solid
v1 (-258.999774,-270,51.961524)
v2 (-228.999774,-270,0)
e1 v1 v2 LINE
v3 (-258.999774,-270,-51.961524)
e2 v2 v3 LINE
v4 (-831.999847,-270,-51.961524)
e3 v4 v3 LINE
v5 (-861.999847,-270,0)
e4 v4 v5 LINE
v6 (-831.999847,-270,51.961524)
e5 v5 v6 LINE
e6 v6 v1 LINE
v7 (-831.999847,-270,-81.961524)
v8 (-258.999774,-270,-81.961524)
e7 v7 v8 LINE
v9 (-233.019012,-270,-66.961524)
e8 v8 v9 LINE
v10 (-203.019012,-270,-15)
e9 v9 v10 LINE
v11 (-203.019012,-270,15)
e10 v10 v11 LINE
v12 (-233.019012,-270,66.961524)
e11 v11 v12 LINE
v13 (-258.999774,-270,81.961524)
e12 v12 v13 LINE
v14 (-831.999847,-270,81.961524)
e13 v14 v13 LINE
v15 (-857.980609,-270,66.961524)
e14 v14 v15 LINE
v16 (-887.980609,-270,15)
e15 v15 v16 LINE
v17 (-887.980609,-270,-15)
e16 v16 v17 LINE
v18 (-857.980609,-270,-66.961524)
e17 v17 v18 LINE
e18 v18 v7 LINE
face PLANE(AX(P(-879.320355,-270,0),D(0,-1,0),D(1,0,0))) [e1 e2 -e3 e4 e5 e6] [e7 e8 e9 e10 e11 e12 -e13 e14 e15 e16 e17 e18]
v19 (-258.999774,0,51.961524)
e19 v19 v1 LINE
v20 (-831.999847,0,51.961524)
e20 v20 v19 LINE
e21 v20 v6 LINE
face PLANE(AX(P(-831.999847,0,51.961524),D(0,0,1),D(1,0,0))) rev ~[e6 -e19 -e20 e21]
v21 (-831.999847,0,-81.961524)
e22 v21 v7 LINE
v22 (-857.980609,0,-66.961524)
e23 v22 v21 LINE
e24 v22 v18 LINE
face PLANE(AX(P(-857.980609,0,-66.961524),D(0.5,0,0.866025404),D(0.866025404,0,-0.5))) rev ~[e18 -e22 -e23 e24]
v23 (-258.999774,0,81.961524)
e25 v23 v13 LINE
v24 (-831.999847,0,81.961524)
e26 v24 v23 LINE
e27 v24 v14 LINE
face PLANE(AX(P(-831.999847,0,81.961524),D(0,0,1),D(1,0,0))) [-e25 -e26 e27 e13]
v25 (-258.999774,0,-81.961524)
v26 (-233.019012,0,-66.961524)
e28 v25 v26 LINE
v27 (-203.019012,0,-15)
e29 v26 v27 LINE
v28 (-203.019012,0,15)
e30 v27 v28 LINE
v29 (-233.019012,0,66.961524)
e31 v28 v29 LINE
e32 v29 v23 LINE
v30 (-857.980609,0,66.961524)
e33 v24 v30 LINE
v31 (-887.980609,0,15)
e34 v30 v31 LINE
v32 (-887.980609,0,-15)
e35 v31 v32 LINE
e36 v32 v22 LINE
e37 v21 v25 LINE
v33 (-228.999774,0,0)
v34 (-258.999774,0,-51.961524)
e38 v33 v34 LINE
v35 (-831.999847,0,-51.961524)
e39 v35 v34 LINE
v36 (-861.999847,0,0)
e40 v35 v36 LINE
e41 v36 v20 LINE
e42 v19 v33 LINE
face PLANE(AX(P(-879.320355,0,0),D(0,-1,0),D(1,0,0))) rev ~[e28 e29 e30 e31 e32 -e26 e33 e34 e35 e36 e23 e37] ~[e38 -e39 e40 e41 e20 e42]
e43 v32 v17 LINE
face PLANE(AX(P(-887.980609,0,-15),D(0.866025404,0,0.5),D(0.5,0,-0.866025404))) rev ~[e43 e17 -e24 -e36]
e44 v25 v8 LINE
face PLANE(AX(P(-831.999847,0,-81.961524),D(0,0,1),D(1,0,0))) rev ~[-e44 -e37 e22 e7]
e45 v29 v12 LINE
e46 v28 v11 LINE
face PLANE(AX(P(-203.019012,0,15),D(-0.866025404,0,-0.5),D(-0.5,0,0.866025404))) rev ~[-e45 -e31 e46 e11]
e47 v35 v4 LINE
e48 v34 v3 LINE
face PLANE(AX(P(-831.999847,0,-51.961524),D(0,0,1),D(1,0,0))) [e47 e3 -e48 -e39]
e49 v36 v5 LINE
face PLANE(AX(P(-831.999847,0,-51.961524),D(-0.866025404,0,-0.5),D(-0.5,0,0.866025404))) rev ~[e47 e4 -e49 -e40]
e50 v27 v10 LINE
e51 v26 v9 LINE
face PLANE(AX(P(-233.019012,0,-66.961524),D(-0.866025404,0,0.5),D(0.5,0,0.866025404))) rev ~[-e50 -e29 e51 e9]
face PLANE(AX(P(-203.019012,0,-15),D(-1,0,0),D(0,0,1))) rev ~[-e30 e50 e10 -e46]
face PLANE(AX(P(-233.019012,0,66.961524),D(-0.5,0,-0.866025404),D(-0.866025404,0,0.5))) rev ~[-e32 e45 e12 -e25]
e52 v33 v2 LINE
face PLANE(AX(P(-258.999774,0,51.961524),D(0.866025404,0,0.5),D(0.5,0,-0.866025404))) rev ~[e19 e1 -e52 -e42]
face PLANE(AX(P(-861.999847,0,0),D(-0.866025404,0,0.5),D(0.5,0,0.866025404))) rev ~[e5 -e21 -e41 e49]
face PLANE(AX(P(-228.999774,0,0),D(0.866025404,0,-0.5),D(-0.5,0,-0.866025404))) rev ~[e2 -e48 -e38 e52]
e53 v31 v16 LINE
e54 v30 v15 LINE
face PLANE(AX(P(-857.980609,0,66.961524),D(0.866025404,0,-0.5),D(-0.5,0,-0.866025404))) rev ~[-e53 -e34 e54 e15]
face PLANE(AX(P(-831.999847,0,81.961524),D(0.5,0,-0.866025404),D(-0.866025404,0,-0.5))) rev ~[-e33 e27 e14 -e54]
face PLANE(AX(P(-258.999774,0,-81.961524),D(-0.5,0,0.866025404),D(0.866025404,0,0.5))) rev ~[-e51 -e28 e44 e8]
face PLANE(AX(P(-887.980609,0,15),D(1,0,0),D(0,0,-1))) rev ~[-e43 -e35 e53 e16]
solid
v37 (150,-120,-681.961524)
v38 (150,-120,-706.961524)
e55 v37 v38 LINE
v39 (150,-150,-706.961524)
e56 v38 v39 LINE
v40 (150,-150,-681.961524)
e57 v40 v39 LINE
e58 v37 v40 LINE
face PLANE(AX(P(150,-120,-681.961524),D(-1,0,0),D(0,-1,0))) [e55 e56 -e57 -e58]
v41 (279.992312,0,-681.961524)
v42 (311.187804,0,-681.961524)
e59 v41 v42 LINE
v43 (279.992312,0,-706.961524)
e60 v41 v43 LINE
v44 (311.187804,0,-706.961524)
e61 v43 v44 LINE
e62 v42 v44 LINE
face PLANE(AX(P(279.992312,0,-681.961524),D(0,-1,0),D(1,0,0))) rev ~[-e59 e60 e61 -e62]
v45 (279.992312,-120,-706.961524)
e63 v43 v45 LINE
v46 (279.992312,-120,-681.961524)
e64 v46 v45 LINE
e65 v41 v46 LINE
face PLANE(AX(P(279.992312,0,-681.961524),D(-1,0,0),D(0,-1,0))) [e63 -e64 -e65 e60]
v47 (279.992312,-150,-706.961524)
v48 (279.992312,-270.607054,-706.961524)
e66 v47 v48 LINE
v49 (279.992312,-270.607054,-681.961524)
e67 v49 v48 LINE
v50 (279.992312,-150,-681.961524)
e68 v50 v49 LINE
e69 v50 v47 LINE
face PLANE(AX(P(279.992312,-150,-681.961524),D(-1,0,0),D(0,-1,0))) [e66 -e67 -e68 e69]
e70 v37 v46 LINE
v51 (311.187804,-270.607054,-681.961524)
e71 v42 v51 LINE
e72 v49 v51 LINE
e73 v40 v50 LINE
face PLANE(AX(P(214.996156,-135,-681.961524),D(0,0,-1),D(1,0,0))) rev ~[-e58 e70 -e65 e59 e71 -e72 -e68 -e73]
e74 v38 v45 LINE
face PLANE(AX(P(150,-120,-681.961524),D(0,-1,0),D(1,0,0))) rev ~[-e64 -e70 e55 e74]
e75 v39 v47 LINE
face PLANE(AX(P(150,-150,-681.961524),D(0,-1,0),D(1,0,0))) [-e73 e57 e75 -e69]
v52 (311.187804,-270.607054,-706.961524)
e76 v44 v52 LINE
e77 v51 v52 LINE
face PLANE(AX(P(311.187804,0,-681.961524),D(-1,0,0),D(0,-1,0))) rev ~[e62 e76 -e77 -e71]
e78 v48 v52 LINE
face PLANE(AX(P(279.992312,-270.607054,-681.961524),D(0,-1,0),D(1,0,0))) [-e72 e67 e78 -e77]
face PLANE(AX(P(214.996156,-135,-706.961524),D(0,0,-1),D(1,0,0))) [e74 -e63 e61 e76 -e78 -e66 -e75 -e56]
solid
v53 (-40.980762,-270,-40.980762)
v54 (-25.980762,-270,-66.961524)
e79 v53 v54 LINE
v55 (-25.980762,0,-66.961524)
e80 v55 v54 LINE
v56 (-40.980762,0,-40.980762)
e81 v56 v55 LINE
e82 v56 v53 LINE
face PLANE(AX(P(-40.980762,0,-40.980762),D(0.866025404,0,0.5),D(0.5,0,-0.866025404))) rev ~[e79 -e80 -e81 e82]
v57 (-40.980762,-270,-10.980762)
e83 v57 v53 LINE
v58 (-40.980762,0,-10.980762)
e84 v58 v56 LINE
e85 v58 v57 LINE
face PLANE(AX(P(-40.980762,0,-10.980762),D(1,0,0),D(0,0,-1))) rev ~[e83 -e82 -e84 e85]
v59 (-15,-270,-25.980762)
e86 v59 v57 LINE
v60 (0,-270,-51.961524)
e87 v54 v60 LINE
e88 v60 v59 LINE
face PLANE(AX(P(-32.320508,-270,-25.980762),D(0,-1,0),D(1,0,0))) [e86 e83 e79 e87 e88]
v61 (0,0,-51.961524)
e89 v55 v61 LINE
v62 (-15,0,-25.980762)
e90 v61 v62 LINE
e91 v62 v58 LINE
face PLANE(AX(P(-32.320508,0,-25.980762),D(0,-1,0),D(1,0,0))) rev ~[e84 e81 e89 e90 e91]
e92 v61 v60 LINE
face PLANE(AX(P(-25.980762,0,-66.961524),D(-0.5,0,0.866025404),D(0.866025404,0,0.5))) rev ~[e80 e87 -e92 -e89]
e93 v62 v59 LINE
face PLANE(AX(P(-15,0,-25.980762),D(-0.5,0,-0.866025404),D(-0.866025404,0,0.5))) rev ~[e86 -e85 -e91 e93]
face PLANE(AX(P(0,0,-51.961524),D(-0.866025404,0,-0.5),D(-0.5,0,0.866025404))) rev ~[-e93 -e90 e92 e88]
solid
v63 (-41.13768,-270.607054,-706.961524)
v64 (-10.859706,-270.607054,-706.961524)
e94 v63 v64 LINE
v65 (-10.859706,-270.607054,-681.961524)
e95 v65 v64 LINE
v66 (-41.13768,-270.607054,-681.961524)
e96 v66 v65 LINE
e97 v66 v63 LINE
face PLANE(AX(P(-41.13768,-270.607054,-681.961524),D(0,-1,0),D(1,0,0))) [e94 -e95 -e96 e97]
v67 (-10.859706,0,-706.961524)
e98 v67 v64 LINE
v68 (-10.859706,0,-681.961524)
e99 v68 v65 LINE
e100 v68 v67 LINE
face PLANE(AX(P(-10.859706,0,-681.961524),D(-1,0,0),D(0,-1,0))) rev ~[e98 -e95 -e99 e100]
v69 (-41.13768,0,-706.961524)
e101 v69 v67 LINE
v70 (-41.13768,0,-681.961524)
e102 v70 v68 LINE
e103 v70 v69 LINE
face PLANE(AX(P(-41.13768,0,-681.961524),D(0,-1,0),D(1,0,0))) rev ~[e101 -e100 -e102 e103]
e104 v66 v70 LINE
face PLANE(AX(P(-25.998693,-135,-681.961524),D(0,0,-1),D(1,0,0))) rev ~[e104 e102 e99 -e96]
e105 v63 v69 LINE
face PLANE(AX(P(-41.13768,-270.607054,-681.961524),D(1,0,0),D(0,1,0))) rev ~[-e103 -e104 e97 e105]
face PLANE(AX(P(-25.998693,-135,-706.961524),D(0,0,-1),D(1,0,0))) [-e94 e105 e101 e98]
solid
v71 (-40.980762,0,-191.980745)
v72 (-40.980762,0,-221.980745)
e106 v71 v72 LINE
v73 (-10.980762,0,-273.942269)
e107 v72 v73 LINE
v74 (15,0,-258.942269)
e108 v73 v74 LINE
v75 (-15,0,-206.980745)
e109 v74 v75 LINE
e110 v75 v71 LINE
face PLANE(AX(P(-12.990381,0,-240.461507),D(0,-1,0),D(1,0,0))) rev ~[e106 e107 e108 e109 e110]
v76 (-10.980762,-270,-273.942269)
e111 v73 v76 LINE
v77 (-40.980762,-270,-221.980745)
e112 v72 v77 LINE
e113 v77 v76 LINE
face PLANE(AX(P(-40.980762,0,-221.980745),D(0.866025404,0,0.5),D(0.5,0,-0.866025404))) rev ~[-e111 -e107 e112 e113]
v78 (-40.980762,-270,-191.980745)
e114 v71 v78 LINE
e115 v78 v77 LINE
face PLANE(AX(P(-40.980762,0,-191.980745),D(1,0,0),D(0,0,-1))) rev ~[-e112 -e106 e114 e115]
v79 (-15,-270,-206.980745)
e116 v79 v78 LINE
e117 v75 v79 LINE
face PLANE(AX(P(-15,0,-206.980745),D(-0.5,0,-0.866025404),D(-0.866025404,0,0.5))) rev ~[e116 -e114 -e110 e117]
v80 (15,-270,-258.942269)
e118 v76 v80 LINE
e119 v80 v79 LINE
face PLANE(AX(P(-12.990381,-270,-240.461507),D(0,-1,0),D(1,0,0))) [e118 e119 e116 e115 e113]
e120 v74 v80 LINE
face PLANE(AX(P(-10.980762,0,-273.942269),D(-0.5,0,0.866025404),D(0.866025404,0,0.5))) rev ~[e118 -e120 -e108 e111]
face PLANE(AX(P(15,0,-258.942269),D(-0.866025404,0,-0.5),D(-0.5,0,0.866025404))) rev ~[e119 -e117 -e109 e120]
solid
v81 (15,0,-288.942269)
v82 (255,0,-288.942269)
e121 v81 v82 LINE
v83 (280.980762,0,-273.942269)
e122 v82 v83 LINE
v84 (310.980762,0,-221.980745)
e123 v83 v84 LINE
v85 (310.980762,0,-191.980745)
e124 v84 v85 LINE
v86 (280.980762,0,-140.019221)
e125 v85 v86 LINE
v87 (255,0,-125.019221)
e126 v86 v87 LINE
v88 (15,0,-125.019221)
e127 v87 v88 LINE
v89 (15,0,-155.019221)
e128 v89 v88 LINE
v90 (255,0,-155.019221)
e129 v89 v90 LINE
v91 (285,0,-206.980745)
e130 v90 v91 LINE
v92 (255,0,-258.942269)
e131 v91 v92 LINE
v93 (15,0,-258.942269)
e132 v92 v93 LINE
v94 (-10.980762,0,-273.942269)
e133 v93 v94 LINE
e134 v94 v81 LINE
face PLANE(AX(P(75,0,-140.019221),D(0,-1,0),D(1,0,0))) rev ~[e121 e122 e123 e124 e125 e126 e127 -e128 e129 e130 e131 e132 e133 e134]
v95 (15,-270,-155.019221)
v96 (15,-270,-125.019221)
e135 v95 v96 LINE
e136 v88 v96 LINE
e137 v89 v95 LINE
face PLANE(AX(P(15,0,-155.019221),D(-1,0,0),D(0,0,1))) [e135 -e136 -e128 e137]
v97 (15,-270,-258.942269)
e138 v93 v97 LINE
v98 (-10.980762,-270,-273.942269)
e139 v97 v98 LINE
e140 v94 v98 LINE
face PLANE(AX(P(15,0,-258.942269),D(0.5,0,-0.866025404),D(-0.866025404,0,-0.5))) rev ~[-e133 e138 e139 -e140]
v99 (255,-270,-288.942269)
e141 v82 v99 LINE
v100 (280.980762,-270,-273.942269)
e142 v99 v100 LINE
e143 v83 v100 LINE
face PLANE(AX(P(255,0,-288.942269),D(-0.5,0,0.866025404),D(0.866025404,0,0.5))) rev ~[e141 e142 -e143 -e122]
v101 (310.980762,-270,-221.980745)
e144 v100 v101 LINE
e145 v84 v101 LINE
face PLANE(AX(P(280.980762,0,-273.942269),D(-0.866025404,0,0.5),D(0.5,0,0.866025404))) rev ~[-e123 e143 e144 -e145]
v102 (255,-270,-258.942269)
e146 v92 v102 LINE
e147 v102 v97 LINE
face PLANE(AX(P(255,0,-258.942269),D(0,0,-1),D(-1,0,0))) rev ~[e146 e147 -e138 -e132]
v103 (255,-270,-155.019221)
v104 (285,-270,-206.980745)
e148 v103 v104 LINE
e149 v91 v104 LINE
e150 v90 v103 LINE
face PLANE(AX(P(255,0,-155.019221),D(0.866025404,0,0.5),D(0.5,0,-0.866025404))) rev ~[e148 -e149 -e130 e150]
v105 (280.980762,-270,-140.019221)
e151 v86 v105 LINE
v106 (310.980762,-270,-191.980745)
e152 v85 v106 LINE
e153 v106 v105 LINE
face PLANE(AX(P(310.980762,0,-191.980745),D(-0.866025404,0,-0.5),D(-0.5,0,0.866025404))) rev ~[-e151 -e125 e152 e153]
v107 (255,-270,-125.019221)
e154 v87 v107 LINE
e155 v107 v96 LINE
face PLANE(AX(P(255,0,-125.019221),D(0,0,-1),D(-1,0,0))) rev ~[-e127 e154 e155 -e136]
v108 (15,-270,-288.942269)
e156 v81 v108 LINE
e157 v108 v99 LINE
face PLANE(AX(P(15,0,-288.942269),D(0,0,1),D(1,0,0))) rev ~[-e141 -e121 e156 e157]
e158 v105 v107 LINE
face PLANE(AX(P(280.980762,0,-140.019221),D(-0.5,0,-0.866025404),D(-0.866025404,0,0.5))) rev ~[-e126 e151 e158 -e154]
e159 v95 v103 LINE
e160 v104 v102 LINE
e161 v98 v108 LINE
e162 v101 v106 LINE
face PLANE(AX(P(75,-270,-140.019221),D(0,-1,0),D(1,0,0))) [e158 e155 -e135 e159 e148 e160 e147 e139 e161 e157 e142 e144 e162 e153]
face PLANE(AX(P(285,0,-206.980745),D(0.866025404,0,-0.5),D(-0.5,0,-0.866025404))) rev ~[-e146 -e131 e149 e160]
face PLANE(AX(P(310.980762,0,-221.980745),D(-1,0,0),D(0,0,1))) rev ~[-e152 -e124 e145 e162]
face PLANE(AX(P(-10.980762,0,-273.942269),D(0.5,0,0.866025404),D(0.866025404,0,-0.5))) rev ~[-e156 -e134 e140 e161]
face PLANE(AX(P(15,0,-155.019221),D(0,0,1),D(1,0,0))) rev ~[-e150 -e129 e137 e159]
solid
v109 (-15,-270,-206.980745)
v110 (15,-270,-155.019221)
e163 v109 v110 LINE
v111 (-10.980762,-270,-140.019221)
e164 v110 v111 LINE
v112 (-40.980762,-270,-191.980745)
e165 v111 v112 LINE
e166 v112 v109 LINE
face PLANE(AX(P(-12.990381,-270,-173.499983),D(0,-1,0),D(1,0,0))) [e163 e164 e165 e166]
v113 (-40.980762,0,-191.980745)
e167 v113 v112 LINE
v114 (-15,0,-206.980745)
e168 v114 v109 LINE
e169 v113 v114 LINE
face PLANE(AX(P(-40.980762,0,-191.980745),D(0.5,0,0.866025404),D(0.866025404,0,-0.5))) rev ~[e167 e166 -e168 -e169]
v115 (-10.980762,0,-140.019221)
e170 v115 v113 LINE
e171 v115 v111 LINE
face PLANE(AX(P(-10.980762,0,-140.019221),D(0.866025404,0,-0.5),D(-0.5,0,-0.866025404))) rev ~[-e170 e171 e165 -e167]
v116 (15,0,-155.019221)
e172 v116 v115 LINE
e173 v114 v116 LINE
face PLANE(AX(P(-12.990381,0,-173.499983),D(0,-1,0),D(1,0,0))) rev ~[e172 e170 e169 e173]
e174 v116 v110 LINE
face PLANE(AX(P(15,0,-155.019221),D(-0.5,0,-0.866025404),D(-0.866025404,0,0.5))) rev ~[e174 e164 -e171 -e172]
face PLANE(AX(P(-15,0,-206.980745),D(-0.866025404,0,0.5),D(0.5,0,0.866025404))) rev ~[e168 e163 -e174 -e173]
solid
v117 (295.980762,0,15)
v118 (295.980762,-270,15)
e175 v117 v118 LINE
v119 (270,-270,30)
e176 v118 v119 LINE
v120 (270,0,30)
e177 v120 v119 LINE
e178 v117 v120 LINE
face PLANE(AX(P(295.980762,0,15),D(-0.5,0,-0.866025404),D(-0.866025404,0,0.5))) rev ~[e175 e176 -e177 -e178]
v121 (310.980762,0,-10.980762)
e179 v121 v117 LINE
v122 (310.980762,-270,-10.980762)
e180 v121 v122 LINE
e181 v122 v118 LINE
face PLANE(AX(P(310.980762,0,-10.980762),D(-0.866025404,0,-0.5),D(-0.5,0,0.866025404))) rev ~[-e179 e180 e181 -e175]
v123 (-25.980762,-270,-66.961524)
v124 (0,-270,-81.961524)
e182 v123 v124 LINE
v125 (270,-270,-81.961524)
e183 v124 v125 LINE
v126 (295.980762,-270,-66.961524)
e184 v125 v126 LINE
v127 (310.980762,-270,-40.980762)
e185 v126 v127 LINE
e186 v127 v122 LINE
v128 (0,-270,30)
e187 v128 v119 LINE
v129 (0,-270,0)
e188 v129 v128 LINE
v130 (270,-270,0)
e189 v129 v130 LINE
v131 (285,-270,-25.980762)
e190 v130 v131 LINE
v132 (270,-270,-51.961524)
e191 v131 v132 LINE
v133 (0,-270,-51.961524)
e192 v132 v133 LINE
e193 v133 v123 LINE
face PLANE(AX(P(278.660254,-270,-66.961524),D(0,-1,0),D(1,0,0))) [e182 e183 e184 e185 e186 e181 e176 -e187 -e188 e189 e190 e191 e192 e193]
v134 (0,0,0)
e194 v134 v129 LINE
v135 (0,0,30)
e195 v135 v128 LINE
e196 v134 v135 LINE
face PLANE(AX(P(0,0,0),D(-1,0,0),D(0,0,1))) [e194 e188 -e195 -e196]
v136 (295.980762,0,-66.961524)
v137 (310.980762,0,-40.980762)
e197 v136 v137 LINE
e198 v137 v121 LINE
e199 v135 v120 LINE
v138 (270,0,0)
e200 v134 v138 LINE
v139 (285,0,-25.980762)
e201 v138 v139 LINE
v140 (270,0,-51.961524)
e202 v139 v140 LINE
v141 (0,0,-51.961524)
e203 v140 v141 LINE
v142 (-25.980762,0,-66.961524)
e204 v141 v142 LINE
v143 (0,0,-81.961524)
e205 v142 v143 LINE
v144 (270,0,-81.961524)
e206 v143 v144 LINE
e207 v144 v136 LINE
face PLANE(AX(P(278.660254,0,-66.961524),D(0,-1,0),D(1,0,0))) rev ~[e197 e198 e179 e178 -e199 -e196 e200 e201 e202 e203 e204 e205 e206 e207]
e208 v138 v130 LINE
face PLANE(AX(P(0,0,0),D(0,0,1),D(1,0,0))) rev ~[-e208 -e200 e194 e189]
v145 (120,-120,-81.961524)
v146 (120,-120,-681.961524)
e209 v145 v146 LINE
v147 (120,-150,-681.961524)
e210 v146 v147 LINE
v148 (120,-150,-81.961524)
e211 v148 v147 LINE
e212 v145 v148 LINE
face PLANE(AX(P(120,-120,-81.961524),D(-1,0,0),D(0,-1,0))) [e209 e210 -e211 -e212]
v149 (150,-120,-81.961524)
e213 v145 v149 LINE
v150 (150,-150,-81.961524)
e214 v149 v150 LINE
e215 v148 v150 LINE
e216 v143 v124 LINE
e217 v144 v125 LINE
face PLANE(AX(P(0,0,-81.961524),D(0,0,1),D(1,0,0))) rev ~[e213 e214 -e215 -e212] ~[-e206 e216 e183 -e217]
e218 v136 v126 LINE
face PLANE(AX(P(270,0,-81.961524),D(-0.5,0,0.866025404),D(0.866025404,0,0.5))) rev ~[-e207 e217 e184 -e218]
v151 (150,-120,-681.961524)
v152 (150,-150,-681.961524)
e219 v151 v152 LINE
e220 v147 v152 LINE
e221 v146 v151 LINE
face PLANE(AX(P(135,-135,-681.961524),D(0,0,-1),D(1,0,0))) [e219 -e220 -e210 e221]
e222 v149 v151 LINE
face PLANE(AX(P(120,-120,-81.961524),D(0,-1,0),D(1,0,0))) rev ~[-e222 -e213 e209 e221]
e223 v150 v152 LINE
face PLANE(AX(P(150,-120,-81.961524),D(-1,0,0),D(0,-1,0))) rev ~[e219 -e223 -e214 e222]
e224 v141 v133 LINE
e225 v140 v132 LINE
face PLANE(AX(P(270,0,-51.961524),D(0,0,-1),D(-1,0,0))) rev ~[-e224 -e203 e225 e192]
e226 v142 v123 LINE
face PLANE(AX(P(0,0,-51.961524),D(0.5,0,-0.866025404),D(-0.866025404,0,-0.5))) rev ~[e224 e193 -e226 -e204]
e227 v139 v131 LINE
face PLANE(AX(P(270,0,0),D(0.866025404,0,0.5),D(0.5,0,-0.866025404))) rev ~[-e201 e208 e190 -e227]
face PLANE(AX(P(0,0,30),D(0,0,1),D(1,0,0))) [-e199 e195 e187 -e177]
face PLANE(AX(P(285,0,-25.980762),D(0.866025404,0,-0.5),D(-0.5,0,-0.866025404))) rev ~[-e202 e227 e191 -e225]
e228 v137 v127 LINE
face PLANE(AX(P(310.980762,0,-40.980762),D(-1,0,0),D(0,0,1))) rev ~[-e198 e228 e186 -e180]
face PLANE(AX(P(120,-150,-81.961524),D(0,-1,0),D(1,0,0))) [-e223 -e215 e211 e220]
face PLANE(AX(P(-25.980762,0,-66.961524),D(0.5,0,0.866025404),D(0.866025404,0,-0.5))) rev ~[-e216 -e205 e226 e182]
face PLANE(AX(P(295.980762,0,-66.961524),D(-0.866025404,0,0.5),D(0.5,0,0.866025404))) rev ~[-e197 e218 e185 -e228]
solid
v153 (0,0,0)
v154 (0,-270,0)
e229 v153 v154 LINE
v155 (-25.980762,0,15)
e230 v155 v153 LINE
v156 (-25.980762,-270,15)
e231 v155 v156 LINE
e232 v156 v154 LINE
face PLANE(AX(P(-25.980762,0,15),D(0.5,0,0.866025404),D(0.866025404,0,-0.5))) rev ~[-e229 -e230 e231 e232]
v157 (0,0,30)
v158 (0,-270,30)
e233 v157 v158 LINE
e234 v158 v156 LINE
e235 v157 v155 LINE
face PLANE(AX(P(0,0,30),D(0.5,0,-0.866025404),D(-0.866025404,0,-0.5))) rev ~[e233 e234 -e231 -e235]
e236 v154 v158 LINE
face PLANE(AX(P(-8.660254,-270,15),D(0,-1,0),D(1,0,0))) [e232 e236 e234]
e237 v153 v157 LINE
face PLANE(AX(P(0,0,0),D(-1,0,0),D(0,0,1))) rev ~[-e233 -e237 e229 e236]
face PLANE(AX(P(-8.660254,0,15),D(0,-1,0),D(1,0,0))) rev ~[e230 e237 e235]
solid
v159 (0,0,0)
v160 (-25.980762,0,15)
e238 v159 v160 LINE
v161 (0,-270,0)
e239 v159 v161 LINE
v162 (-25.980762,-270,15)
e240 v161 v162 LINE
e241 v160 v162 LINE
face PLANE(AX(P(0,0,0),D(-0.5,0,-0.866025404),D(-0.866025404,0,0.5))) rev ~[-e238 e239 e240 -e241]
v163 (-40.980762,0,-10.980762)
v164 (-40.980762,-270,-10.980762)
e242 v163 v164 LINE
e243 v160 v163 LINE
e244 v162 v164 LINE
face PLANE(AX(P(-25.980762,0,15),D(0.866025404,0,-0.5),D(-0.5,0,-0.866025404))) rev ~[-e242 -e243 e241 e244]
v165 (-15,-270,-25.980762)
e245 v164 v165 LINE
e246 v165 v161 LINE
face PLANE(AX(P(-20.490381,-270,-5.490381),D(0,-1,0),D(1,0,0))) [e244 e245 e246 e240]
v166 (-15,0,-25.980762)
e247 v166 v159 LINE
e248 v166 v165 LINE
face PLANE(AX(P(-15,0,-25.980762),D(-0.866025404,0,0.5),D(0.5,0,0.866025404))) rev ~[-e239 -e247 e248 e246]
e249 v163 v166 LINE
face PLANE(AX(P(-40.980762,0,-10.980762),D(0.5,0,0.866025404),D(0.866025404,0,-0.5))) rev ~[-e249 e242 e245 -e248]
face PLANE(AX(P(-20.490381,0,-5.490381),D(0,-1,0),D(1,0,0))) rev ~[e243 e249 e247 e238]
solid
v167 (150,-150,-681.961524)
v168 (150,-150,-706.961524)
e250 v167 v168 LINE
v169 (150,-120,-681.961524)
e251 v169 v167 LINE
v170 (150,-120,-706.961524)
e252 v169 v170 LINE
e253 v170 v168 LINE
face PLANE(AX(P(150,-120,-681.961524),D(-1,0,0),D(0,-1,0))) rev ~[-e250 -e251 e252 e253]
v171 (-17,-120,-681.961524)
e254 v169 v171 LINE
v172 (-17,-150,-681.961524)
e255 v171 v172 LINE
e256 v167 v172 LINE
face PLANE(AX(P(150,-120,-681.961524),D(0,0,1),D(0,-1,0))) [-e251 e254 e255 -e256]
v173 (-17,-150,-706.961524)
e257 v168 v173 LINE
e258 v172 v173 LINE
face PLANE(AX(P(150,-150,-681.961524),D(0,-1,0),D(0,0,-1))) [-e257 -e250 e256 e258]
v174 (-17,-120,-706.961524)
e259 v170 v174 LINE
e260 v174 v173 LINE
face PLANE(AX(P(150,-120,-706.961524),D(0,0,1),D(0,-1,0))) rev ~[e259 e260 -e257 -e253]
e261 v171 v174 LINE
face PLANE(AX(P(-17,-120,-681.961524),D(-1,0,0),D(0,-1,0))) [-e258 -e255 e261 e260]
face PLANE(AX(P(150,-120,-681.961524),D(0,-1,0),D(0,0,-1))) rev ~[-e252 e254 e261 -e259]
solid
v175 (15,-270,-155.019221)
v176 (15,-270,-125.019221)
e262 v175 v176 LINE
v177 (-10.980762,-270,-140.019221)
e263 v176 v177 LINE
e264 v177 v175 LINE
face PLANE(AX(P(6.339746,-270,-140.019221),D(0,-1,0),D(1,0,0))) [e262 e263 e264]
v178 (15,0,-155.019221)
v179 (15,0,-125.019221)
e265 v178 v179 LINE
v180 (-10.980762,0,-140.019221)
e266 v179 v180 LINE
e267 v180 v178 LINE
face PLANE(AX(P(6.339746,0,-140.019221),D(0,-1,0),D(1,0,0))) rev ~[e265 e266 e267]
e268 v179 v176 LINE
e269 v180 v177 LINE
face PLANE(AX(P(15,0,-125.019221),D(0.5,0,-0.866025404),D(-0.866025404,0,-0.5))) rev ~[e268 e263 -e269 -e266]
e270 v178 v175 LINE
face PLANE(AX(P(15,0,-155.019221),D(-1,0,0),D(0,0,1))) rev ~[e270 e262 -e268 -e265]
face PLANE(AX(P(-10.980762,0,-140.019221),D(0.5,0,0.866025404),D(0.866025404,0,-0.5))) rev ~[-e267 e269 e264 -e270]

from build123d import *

# Parameters (mm, degrees)
F0_W      = 30
F0_H      = 15
F0_W_2    = 270
F0_H_2    = 30
F2_DEPTH  = 270
F3_W      = 30
F3_H      = 30
F4_DEPTH  = 600
F5_W      = 30.2779739723
F5_H      = 30
F5_H_2    = 120.6070542336
F5_H_3    = 120
F6_DEPTH  = 25
F5_W_2    = 129.9923121929
F5_W_3    = 31.1954915524
F7_DEPTH  = 167
F8_DEPTH  = 270
F0_W_3    = 120
F9_DEPTH  = 270
F0_W_4    = 573.0000723706
F10_DEPTH = 270


with BuildPart() as f2:
    # F0 (on Front) → F2 (new body)
    with BuildSketch(Plane.XZ):
        Polygon((270, -81.9615242271), (295.9807621135, -66.9615242271), (270, -51.9615242271), align=None)
        Polygon((270, 0), (295.9807621135, 15), (270, 30), align=None)
        Polygon((150, -81.9615242271), (270, -81.9615242271), (270, -51.9615242271), (240, -51.9615242271), (210, -51.9615242271), (180, -51.9615242271), (150, -51.9615242271), (150, -66.9615242271), align=None)
        with Locations((135, -59.4615242271)):
            Rectangle(F0_W, F0_H)
        Polygon((285, -25.9807621135), (310.9807621135, -40.9807621135), (310.9807621135, -10.9807621135), align=None)
        Polygon((0, -81.9615242271), (120, -81.9615242271), (120, -66.9615242271), (120, -51.9615242271), (90, -51.9615242271), (60, -51.9615242271), (30, -51.9615242271), (0, -51.9615242271), align=None)
        Polygon((135, -81.9615242271), (150, -81.9615242271), (150, -66.9615242271), (120, -66.9615242271), (120, -81.9615242271), align=None)
        Polygon((270, -51.9615242271), (295.9807621135, -66.9615242271), (310.9807621135, -40.9807621135), (285, -25.9807621135), align=None)
        Polygon((-25.9807621135, -66.9615242271), (0, -81.9615242271), (0, -51.9615242271), align=None)
        Polygon((285, -25.9807621135), (310.9807621135, -10.9807621135), (295.9807621135, 15), (270, 0), align=None)
        with Locations((135, 15)):
            Rectangle(F0_W_2, F0_H_2)
    extrude(amount=F2_DEPTH)

    # F3 (on face) → F4 (join)
    with BuildSketch(Plane(origin=(0, 0, -81.9615242271), x_dir=(1, 0, 0), z_dir=(0, 0, -1))):
        with Locations((135, 135)):
            Rectangle(F3_W, F3_H)
    extrude(amount=F4_DEPTH)


with BuildPart() as f2b:
    # F0 (on Front) → F2, piece 2 (new body)
    with BuildSketch(Plane.XZ):
        Polygon((-10.9807621135, -273.9422689571), (15, -258.9422689571), (-15, -206.98074473), (-40.9807621135, -221.98074473), align=None)
        Polygon((-40.9807621135, -221.98074473), (-15, -206.98074473), (-40.9807621135, -191.98074473), align=None)
    extrude(amount=F2_DEPTH)


with BuildPart() as f2c:
    # F0 (on Front) → F2, piece 3 (new body)
    with BuildSketch(Plane.XZ):
        Polygon((-15, -25.9807621135), (0, 0), (-25.9807621135, 15), (-40.9807621135, -10.9807621135), align=None)
    extrude(amount=F2_DEPTH)


with BuildPart() as f2d:
    # F0 (on Front) → F2, piece 4 (new body)
    with BuildSketch(Plane.XZ):
        Polygon((15, -155.019220503), (15, -125.019220503), (-10.9807621135, -140.019220503), align=None)
    extrude(amount=F2_DEPTH)


with BuildPart() as f6:
    # F5 (on face) → F6 (new body)
    with BuildSketch(Plane(origin=(0, 0, -681.9615242271), x_dir=(1, 0, 0), z_dir=(0, 0, -1))):
        with Locations((-25.9986934252, 135)):
            Rectangle(F5_W, F5_H)
        with Locations((-25.9986934252, 210.3035271168)):
            Rectangle(F5_W, F5_H_2)
        with Locations((-25.9986934252, 60)):
            Rectangle(F5_W, F5_H_3)
    extrude(amount=F6_DEPTH)


with BuildPart() as f6b:
    # F5 (on face) → F6, piece 2 (new body)
    with BuildSketch(Plane(origin=(0, 0, -681.9615242271), x_dir=(1, 0, 0), z_dir=(0, 0, -1))):
        with Locations((214.9961560965, 135)):
            Rectangle(F5_W_2, F5_H)
        with Locations((295.5900579691, 210.3035271168)):
            Rectangle(F5_W_3, F5_H_2)
        with Locations((295.5900579691, 135)):
            Rectangle(F5_W_3, F5_H)
        with Locations((295.5900579691, 60)):
            Rectangle(F5_W_3, F5_H_3)
    extrude(amount=F6_DEPTH)


with BuildPart() as f7:
    # F7 (new): a face of the model
    f7_faces = [f6b.part.faces().sort_by_distance(p)[0] for p in [
        (150, -135, -694.4615242271),
    ]]
    extrude(f7_faces, amount=F7_DEPTH)


with BuildPart() as f8:
    # F0 (on Front) → F8 (new body)
    with BuildSketch(Plane.XZ):
        Polygon((-25.9807621135, 15), (0, 0), (0, 30), align=None)
    extrude(amount=F8_DEPTH)


with BuildPart() as f8b:
    # F0 (on Front) → F8, piece 2 (new body)
    with BuildSketch(Plane.XZ):
        Polygon((-40.9807621135, -40.9807621135), (-15, -25.9807621135), (-40.9807621135, -10.9807621135), align=None)
        Polygon((0, -51.9615242271), (-15, -25.9807621135), (-40.9807621135, -40.9807621135), (-25.9807621135, -66.9615242271), align=None)
    extrude(amount=F8_DEPTH)


with BuildPart() as f9:
    # F0 (on Front) → F9 (new body)
    with BuildSketch(Plane.XZ):
        with Locations((75, -140.019220503)):
            Rectangle(F0_W_3, F0_H_2)
        with Locations((195, -140.019220503)):
            Rectangle(F0_W_3, F0_H_2)
        Polygon((280.9807621135, -140.019220503), (255, -125.019220503), (255, -155.019220503), align=None)
        Polygon((280.9807621135, -140.019220503), (255, -155.019220503), (285, -206.98074473), (310.9807621135, -191.98074473), align=None)
        Polygon((285, -206.98074473), (255, -258.9422689571), (280.9807621135, -273.9422689571), (310.9807621135, -221.98074473), align=None)
        with Locations((195, -273.9422689571)):
            Rectangle(F0_W_3, F0_H_2)
        with Locations((75, -273.9422689571)):
            Rectangle(F0_W_3, F0_H_2)
        Polygon((15, -288.9422689571), (15, -258.9422689571), (-10.9807621135, -273.9422689571), align=None)
        Polygon((280.9807621135, -273.9422689571), (255, -258.9422689571), (255, -288.9422689571), align=None)
        Polygon((310.9807621135, -191.98074473), (285, -206.98074473), (310.9807621135, -221.98074473), align=None)
    extrude(amount=F9_DEPTH)


with BuildPart() as f9b:
    # F0 (on Front) → F9, piece 2 (new body)
    with BuildSketch(Plane.XZ):
        Polygon((-15, -206.98074473), (15, -155.019220503), (-10.9807621135, -140.019220503), (-40.9807621135, -191.98074473), align=None)
    extrude(amount=F9_DEPTH)


with BuildPart() as f10:
    # F0 (on Front) → F10 (new body)
    with BuildSketch(Plane.XZ):
        Polygon((-887.9806089401, 15), (-887.9806089401, -15), (-861.9998468266, 0), align=None)
        Polygon((-831.9998468266, 81.9615242271), (-857.9806089401, 66.9615242271), (-831.9998468266, 51.9615242271), align=None)
        Polygon((-831.9998468266, -51.9615242271), (-857.9806089401, -66.9615242271), (-831.9998468266, -81.9615242271), align=None)
        Polygon((-258.999774456, 81.9615242271), (-258.999774456, 51.9615242271), (-233.0190123425, 66.9615242271), align=None)
        Polygon((-258.999774456, -51.9615242271), (-258.999774456, -81.9615242271), (-233.0190123425, -66.9615242271), align=None)
        Polygon((-203.0190123425, 15), (-228.999774456, 0), (-203.0190123425, -15), align=None)
        Polygon((-887.9806089401, -15), (-857.9806089401, -66.9615242271), (-831.9998468266, -51.9615242271), (-861.9998468266, 0), align=None)
        Polygon((-857.9806089401, 66.9615242271), (-887.9806089401, 15), (-861.9998468266, 0), (-831.9998468266, 51.9615242271), align=None)
        with Locations((-545.4998106413, -66.9615242271)):
            Rectangle(F0_W_4, F0_H_2)
        Polygon((-228.999774456, 0), (-258.999774456, -51.9615242271), (-233.0190123425, -66.9615242271), (-203.0190123425, -15), align=None)
        Polygon((-258.999774456, 51.9615242271), (-228.999774456, 0), (-203.0190123425, 15), (-233.0190123425, 66.9615242271), align=None)
        with Locations((-545.4998106413, 66.9615242271)):
            Rectangle(F0_W_4, F0_H_2)
    extrude(amount=F10_DEPTH)


solid = Compound([f2.part, f2b.part, f2c.part, f2d.part, f6.part, f6b.part, f7.part, f8.part, f8b.part, f9.part, f9b.part, f10.part])
